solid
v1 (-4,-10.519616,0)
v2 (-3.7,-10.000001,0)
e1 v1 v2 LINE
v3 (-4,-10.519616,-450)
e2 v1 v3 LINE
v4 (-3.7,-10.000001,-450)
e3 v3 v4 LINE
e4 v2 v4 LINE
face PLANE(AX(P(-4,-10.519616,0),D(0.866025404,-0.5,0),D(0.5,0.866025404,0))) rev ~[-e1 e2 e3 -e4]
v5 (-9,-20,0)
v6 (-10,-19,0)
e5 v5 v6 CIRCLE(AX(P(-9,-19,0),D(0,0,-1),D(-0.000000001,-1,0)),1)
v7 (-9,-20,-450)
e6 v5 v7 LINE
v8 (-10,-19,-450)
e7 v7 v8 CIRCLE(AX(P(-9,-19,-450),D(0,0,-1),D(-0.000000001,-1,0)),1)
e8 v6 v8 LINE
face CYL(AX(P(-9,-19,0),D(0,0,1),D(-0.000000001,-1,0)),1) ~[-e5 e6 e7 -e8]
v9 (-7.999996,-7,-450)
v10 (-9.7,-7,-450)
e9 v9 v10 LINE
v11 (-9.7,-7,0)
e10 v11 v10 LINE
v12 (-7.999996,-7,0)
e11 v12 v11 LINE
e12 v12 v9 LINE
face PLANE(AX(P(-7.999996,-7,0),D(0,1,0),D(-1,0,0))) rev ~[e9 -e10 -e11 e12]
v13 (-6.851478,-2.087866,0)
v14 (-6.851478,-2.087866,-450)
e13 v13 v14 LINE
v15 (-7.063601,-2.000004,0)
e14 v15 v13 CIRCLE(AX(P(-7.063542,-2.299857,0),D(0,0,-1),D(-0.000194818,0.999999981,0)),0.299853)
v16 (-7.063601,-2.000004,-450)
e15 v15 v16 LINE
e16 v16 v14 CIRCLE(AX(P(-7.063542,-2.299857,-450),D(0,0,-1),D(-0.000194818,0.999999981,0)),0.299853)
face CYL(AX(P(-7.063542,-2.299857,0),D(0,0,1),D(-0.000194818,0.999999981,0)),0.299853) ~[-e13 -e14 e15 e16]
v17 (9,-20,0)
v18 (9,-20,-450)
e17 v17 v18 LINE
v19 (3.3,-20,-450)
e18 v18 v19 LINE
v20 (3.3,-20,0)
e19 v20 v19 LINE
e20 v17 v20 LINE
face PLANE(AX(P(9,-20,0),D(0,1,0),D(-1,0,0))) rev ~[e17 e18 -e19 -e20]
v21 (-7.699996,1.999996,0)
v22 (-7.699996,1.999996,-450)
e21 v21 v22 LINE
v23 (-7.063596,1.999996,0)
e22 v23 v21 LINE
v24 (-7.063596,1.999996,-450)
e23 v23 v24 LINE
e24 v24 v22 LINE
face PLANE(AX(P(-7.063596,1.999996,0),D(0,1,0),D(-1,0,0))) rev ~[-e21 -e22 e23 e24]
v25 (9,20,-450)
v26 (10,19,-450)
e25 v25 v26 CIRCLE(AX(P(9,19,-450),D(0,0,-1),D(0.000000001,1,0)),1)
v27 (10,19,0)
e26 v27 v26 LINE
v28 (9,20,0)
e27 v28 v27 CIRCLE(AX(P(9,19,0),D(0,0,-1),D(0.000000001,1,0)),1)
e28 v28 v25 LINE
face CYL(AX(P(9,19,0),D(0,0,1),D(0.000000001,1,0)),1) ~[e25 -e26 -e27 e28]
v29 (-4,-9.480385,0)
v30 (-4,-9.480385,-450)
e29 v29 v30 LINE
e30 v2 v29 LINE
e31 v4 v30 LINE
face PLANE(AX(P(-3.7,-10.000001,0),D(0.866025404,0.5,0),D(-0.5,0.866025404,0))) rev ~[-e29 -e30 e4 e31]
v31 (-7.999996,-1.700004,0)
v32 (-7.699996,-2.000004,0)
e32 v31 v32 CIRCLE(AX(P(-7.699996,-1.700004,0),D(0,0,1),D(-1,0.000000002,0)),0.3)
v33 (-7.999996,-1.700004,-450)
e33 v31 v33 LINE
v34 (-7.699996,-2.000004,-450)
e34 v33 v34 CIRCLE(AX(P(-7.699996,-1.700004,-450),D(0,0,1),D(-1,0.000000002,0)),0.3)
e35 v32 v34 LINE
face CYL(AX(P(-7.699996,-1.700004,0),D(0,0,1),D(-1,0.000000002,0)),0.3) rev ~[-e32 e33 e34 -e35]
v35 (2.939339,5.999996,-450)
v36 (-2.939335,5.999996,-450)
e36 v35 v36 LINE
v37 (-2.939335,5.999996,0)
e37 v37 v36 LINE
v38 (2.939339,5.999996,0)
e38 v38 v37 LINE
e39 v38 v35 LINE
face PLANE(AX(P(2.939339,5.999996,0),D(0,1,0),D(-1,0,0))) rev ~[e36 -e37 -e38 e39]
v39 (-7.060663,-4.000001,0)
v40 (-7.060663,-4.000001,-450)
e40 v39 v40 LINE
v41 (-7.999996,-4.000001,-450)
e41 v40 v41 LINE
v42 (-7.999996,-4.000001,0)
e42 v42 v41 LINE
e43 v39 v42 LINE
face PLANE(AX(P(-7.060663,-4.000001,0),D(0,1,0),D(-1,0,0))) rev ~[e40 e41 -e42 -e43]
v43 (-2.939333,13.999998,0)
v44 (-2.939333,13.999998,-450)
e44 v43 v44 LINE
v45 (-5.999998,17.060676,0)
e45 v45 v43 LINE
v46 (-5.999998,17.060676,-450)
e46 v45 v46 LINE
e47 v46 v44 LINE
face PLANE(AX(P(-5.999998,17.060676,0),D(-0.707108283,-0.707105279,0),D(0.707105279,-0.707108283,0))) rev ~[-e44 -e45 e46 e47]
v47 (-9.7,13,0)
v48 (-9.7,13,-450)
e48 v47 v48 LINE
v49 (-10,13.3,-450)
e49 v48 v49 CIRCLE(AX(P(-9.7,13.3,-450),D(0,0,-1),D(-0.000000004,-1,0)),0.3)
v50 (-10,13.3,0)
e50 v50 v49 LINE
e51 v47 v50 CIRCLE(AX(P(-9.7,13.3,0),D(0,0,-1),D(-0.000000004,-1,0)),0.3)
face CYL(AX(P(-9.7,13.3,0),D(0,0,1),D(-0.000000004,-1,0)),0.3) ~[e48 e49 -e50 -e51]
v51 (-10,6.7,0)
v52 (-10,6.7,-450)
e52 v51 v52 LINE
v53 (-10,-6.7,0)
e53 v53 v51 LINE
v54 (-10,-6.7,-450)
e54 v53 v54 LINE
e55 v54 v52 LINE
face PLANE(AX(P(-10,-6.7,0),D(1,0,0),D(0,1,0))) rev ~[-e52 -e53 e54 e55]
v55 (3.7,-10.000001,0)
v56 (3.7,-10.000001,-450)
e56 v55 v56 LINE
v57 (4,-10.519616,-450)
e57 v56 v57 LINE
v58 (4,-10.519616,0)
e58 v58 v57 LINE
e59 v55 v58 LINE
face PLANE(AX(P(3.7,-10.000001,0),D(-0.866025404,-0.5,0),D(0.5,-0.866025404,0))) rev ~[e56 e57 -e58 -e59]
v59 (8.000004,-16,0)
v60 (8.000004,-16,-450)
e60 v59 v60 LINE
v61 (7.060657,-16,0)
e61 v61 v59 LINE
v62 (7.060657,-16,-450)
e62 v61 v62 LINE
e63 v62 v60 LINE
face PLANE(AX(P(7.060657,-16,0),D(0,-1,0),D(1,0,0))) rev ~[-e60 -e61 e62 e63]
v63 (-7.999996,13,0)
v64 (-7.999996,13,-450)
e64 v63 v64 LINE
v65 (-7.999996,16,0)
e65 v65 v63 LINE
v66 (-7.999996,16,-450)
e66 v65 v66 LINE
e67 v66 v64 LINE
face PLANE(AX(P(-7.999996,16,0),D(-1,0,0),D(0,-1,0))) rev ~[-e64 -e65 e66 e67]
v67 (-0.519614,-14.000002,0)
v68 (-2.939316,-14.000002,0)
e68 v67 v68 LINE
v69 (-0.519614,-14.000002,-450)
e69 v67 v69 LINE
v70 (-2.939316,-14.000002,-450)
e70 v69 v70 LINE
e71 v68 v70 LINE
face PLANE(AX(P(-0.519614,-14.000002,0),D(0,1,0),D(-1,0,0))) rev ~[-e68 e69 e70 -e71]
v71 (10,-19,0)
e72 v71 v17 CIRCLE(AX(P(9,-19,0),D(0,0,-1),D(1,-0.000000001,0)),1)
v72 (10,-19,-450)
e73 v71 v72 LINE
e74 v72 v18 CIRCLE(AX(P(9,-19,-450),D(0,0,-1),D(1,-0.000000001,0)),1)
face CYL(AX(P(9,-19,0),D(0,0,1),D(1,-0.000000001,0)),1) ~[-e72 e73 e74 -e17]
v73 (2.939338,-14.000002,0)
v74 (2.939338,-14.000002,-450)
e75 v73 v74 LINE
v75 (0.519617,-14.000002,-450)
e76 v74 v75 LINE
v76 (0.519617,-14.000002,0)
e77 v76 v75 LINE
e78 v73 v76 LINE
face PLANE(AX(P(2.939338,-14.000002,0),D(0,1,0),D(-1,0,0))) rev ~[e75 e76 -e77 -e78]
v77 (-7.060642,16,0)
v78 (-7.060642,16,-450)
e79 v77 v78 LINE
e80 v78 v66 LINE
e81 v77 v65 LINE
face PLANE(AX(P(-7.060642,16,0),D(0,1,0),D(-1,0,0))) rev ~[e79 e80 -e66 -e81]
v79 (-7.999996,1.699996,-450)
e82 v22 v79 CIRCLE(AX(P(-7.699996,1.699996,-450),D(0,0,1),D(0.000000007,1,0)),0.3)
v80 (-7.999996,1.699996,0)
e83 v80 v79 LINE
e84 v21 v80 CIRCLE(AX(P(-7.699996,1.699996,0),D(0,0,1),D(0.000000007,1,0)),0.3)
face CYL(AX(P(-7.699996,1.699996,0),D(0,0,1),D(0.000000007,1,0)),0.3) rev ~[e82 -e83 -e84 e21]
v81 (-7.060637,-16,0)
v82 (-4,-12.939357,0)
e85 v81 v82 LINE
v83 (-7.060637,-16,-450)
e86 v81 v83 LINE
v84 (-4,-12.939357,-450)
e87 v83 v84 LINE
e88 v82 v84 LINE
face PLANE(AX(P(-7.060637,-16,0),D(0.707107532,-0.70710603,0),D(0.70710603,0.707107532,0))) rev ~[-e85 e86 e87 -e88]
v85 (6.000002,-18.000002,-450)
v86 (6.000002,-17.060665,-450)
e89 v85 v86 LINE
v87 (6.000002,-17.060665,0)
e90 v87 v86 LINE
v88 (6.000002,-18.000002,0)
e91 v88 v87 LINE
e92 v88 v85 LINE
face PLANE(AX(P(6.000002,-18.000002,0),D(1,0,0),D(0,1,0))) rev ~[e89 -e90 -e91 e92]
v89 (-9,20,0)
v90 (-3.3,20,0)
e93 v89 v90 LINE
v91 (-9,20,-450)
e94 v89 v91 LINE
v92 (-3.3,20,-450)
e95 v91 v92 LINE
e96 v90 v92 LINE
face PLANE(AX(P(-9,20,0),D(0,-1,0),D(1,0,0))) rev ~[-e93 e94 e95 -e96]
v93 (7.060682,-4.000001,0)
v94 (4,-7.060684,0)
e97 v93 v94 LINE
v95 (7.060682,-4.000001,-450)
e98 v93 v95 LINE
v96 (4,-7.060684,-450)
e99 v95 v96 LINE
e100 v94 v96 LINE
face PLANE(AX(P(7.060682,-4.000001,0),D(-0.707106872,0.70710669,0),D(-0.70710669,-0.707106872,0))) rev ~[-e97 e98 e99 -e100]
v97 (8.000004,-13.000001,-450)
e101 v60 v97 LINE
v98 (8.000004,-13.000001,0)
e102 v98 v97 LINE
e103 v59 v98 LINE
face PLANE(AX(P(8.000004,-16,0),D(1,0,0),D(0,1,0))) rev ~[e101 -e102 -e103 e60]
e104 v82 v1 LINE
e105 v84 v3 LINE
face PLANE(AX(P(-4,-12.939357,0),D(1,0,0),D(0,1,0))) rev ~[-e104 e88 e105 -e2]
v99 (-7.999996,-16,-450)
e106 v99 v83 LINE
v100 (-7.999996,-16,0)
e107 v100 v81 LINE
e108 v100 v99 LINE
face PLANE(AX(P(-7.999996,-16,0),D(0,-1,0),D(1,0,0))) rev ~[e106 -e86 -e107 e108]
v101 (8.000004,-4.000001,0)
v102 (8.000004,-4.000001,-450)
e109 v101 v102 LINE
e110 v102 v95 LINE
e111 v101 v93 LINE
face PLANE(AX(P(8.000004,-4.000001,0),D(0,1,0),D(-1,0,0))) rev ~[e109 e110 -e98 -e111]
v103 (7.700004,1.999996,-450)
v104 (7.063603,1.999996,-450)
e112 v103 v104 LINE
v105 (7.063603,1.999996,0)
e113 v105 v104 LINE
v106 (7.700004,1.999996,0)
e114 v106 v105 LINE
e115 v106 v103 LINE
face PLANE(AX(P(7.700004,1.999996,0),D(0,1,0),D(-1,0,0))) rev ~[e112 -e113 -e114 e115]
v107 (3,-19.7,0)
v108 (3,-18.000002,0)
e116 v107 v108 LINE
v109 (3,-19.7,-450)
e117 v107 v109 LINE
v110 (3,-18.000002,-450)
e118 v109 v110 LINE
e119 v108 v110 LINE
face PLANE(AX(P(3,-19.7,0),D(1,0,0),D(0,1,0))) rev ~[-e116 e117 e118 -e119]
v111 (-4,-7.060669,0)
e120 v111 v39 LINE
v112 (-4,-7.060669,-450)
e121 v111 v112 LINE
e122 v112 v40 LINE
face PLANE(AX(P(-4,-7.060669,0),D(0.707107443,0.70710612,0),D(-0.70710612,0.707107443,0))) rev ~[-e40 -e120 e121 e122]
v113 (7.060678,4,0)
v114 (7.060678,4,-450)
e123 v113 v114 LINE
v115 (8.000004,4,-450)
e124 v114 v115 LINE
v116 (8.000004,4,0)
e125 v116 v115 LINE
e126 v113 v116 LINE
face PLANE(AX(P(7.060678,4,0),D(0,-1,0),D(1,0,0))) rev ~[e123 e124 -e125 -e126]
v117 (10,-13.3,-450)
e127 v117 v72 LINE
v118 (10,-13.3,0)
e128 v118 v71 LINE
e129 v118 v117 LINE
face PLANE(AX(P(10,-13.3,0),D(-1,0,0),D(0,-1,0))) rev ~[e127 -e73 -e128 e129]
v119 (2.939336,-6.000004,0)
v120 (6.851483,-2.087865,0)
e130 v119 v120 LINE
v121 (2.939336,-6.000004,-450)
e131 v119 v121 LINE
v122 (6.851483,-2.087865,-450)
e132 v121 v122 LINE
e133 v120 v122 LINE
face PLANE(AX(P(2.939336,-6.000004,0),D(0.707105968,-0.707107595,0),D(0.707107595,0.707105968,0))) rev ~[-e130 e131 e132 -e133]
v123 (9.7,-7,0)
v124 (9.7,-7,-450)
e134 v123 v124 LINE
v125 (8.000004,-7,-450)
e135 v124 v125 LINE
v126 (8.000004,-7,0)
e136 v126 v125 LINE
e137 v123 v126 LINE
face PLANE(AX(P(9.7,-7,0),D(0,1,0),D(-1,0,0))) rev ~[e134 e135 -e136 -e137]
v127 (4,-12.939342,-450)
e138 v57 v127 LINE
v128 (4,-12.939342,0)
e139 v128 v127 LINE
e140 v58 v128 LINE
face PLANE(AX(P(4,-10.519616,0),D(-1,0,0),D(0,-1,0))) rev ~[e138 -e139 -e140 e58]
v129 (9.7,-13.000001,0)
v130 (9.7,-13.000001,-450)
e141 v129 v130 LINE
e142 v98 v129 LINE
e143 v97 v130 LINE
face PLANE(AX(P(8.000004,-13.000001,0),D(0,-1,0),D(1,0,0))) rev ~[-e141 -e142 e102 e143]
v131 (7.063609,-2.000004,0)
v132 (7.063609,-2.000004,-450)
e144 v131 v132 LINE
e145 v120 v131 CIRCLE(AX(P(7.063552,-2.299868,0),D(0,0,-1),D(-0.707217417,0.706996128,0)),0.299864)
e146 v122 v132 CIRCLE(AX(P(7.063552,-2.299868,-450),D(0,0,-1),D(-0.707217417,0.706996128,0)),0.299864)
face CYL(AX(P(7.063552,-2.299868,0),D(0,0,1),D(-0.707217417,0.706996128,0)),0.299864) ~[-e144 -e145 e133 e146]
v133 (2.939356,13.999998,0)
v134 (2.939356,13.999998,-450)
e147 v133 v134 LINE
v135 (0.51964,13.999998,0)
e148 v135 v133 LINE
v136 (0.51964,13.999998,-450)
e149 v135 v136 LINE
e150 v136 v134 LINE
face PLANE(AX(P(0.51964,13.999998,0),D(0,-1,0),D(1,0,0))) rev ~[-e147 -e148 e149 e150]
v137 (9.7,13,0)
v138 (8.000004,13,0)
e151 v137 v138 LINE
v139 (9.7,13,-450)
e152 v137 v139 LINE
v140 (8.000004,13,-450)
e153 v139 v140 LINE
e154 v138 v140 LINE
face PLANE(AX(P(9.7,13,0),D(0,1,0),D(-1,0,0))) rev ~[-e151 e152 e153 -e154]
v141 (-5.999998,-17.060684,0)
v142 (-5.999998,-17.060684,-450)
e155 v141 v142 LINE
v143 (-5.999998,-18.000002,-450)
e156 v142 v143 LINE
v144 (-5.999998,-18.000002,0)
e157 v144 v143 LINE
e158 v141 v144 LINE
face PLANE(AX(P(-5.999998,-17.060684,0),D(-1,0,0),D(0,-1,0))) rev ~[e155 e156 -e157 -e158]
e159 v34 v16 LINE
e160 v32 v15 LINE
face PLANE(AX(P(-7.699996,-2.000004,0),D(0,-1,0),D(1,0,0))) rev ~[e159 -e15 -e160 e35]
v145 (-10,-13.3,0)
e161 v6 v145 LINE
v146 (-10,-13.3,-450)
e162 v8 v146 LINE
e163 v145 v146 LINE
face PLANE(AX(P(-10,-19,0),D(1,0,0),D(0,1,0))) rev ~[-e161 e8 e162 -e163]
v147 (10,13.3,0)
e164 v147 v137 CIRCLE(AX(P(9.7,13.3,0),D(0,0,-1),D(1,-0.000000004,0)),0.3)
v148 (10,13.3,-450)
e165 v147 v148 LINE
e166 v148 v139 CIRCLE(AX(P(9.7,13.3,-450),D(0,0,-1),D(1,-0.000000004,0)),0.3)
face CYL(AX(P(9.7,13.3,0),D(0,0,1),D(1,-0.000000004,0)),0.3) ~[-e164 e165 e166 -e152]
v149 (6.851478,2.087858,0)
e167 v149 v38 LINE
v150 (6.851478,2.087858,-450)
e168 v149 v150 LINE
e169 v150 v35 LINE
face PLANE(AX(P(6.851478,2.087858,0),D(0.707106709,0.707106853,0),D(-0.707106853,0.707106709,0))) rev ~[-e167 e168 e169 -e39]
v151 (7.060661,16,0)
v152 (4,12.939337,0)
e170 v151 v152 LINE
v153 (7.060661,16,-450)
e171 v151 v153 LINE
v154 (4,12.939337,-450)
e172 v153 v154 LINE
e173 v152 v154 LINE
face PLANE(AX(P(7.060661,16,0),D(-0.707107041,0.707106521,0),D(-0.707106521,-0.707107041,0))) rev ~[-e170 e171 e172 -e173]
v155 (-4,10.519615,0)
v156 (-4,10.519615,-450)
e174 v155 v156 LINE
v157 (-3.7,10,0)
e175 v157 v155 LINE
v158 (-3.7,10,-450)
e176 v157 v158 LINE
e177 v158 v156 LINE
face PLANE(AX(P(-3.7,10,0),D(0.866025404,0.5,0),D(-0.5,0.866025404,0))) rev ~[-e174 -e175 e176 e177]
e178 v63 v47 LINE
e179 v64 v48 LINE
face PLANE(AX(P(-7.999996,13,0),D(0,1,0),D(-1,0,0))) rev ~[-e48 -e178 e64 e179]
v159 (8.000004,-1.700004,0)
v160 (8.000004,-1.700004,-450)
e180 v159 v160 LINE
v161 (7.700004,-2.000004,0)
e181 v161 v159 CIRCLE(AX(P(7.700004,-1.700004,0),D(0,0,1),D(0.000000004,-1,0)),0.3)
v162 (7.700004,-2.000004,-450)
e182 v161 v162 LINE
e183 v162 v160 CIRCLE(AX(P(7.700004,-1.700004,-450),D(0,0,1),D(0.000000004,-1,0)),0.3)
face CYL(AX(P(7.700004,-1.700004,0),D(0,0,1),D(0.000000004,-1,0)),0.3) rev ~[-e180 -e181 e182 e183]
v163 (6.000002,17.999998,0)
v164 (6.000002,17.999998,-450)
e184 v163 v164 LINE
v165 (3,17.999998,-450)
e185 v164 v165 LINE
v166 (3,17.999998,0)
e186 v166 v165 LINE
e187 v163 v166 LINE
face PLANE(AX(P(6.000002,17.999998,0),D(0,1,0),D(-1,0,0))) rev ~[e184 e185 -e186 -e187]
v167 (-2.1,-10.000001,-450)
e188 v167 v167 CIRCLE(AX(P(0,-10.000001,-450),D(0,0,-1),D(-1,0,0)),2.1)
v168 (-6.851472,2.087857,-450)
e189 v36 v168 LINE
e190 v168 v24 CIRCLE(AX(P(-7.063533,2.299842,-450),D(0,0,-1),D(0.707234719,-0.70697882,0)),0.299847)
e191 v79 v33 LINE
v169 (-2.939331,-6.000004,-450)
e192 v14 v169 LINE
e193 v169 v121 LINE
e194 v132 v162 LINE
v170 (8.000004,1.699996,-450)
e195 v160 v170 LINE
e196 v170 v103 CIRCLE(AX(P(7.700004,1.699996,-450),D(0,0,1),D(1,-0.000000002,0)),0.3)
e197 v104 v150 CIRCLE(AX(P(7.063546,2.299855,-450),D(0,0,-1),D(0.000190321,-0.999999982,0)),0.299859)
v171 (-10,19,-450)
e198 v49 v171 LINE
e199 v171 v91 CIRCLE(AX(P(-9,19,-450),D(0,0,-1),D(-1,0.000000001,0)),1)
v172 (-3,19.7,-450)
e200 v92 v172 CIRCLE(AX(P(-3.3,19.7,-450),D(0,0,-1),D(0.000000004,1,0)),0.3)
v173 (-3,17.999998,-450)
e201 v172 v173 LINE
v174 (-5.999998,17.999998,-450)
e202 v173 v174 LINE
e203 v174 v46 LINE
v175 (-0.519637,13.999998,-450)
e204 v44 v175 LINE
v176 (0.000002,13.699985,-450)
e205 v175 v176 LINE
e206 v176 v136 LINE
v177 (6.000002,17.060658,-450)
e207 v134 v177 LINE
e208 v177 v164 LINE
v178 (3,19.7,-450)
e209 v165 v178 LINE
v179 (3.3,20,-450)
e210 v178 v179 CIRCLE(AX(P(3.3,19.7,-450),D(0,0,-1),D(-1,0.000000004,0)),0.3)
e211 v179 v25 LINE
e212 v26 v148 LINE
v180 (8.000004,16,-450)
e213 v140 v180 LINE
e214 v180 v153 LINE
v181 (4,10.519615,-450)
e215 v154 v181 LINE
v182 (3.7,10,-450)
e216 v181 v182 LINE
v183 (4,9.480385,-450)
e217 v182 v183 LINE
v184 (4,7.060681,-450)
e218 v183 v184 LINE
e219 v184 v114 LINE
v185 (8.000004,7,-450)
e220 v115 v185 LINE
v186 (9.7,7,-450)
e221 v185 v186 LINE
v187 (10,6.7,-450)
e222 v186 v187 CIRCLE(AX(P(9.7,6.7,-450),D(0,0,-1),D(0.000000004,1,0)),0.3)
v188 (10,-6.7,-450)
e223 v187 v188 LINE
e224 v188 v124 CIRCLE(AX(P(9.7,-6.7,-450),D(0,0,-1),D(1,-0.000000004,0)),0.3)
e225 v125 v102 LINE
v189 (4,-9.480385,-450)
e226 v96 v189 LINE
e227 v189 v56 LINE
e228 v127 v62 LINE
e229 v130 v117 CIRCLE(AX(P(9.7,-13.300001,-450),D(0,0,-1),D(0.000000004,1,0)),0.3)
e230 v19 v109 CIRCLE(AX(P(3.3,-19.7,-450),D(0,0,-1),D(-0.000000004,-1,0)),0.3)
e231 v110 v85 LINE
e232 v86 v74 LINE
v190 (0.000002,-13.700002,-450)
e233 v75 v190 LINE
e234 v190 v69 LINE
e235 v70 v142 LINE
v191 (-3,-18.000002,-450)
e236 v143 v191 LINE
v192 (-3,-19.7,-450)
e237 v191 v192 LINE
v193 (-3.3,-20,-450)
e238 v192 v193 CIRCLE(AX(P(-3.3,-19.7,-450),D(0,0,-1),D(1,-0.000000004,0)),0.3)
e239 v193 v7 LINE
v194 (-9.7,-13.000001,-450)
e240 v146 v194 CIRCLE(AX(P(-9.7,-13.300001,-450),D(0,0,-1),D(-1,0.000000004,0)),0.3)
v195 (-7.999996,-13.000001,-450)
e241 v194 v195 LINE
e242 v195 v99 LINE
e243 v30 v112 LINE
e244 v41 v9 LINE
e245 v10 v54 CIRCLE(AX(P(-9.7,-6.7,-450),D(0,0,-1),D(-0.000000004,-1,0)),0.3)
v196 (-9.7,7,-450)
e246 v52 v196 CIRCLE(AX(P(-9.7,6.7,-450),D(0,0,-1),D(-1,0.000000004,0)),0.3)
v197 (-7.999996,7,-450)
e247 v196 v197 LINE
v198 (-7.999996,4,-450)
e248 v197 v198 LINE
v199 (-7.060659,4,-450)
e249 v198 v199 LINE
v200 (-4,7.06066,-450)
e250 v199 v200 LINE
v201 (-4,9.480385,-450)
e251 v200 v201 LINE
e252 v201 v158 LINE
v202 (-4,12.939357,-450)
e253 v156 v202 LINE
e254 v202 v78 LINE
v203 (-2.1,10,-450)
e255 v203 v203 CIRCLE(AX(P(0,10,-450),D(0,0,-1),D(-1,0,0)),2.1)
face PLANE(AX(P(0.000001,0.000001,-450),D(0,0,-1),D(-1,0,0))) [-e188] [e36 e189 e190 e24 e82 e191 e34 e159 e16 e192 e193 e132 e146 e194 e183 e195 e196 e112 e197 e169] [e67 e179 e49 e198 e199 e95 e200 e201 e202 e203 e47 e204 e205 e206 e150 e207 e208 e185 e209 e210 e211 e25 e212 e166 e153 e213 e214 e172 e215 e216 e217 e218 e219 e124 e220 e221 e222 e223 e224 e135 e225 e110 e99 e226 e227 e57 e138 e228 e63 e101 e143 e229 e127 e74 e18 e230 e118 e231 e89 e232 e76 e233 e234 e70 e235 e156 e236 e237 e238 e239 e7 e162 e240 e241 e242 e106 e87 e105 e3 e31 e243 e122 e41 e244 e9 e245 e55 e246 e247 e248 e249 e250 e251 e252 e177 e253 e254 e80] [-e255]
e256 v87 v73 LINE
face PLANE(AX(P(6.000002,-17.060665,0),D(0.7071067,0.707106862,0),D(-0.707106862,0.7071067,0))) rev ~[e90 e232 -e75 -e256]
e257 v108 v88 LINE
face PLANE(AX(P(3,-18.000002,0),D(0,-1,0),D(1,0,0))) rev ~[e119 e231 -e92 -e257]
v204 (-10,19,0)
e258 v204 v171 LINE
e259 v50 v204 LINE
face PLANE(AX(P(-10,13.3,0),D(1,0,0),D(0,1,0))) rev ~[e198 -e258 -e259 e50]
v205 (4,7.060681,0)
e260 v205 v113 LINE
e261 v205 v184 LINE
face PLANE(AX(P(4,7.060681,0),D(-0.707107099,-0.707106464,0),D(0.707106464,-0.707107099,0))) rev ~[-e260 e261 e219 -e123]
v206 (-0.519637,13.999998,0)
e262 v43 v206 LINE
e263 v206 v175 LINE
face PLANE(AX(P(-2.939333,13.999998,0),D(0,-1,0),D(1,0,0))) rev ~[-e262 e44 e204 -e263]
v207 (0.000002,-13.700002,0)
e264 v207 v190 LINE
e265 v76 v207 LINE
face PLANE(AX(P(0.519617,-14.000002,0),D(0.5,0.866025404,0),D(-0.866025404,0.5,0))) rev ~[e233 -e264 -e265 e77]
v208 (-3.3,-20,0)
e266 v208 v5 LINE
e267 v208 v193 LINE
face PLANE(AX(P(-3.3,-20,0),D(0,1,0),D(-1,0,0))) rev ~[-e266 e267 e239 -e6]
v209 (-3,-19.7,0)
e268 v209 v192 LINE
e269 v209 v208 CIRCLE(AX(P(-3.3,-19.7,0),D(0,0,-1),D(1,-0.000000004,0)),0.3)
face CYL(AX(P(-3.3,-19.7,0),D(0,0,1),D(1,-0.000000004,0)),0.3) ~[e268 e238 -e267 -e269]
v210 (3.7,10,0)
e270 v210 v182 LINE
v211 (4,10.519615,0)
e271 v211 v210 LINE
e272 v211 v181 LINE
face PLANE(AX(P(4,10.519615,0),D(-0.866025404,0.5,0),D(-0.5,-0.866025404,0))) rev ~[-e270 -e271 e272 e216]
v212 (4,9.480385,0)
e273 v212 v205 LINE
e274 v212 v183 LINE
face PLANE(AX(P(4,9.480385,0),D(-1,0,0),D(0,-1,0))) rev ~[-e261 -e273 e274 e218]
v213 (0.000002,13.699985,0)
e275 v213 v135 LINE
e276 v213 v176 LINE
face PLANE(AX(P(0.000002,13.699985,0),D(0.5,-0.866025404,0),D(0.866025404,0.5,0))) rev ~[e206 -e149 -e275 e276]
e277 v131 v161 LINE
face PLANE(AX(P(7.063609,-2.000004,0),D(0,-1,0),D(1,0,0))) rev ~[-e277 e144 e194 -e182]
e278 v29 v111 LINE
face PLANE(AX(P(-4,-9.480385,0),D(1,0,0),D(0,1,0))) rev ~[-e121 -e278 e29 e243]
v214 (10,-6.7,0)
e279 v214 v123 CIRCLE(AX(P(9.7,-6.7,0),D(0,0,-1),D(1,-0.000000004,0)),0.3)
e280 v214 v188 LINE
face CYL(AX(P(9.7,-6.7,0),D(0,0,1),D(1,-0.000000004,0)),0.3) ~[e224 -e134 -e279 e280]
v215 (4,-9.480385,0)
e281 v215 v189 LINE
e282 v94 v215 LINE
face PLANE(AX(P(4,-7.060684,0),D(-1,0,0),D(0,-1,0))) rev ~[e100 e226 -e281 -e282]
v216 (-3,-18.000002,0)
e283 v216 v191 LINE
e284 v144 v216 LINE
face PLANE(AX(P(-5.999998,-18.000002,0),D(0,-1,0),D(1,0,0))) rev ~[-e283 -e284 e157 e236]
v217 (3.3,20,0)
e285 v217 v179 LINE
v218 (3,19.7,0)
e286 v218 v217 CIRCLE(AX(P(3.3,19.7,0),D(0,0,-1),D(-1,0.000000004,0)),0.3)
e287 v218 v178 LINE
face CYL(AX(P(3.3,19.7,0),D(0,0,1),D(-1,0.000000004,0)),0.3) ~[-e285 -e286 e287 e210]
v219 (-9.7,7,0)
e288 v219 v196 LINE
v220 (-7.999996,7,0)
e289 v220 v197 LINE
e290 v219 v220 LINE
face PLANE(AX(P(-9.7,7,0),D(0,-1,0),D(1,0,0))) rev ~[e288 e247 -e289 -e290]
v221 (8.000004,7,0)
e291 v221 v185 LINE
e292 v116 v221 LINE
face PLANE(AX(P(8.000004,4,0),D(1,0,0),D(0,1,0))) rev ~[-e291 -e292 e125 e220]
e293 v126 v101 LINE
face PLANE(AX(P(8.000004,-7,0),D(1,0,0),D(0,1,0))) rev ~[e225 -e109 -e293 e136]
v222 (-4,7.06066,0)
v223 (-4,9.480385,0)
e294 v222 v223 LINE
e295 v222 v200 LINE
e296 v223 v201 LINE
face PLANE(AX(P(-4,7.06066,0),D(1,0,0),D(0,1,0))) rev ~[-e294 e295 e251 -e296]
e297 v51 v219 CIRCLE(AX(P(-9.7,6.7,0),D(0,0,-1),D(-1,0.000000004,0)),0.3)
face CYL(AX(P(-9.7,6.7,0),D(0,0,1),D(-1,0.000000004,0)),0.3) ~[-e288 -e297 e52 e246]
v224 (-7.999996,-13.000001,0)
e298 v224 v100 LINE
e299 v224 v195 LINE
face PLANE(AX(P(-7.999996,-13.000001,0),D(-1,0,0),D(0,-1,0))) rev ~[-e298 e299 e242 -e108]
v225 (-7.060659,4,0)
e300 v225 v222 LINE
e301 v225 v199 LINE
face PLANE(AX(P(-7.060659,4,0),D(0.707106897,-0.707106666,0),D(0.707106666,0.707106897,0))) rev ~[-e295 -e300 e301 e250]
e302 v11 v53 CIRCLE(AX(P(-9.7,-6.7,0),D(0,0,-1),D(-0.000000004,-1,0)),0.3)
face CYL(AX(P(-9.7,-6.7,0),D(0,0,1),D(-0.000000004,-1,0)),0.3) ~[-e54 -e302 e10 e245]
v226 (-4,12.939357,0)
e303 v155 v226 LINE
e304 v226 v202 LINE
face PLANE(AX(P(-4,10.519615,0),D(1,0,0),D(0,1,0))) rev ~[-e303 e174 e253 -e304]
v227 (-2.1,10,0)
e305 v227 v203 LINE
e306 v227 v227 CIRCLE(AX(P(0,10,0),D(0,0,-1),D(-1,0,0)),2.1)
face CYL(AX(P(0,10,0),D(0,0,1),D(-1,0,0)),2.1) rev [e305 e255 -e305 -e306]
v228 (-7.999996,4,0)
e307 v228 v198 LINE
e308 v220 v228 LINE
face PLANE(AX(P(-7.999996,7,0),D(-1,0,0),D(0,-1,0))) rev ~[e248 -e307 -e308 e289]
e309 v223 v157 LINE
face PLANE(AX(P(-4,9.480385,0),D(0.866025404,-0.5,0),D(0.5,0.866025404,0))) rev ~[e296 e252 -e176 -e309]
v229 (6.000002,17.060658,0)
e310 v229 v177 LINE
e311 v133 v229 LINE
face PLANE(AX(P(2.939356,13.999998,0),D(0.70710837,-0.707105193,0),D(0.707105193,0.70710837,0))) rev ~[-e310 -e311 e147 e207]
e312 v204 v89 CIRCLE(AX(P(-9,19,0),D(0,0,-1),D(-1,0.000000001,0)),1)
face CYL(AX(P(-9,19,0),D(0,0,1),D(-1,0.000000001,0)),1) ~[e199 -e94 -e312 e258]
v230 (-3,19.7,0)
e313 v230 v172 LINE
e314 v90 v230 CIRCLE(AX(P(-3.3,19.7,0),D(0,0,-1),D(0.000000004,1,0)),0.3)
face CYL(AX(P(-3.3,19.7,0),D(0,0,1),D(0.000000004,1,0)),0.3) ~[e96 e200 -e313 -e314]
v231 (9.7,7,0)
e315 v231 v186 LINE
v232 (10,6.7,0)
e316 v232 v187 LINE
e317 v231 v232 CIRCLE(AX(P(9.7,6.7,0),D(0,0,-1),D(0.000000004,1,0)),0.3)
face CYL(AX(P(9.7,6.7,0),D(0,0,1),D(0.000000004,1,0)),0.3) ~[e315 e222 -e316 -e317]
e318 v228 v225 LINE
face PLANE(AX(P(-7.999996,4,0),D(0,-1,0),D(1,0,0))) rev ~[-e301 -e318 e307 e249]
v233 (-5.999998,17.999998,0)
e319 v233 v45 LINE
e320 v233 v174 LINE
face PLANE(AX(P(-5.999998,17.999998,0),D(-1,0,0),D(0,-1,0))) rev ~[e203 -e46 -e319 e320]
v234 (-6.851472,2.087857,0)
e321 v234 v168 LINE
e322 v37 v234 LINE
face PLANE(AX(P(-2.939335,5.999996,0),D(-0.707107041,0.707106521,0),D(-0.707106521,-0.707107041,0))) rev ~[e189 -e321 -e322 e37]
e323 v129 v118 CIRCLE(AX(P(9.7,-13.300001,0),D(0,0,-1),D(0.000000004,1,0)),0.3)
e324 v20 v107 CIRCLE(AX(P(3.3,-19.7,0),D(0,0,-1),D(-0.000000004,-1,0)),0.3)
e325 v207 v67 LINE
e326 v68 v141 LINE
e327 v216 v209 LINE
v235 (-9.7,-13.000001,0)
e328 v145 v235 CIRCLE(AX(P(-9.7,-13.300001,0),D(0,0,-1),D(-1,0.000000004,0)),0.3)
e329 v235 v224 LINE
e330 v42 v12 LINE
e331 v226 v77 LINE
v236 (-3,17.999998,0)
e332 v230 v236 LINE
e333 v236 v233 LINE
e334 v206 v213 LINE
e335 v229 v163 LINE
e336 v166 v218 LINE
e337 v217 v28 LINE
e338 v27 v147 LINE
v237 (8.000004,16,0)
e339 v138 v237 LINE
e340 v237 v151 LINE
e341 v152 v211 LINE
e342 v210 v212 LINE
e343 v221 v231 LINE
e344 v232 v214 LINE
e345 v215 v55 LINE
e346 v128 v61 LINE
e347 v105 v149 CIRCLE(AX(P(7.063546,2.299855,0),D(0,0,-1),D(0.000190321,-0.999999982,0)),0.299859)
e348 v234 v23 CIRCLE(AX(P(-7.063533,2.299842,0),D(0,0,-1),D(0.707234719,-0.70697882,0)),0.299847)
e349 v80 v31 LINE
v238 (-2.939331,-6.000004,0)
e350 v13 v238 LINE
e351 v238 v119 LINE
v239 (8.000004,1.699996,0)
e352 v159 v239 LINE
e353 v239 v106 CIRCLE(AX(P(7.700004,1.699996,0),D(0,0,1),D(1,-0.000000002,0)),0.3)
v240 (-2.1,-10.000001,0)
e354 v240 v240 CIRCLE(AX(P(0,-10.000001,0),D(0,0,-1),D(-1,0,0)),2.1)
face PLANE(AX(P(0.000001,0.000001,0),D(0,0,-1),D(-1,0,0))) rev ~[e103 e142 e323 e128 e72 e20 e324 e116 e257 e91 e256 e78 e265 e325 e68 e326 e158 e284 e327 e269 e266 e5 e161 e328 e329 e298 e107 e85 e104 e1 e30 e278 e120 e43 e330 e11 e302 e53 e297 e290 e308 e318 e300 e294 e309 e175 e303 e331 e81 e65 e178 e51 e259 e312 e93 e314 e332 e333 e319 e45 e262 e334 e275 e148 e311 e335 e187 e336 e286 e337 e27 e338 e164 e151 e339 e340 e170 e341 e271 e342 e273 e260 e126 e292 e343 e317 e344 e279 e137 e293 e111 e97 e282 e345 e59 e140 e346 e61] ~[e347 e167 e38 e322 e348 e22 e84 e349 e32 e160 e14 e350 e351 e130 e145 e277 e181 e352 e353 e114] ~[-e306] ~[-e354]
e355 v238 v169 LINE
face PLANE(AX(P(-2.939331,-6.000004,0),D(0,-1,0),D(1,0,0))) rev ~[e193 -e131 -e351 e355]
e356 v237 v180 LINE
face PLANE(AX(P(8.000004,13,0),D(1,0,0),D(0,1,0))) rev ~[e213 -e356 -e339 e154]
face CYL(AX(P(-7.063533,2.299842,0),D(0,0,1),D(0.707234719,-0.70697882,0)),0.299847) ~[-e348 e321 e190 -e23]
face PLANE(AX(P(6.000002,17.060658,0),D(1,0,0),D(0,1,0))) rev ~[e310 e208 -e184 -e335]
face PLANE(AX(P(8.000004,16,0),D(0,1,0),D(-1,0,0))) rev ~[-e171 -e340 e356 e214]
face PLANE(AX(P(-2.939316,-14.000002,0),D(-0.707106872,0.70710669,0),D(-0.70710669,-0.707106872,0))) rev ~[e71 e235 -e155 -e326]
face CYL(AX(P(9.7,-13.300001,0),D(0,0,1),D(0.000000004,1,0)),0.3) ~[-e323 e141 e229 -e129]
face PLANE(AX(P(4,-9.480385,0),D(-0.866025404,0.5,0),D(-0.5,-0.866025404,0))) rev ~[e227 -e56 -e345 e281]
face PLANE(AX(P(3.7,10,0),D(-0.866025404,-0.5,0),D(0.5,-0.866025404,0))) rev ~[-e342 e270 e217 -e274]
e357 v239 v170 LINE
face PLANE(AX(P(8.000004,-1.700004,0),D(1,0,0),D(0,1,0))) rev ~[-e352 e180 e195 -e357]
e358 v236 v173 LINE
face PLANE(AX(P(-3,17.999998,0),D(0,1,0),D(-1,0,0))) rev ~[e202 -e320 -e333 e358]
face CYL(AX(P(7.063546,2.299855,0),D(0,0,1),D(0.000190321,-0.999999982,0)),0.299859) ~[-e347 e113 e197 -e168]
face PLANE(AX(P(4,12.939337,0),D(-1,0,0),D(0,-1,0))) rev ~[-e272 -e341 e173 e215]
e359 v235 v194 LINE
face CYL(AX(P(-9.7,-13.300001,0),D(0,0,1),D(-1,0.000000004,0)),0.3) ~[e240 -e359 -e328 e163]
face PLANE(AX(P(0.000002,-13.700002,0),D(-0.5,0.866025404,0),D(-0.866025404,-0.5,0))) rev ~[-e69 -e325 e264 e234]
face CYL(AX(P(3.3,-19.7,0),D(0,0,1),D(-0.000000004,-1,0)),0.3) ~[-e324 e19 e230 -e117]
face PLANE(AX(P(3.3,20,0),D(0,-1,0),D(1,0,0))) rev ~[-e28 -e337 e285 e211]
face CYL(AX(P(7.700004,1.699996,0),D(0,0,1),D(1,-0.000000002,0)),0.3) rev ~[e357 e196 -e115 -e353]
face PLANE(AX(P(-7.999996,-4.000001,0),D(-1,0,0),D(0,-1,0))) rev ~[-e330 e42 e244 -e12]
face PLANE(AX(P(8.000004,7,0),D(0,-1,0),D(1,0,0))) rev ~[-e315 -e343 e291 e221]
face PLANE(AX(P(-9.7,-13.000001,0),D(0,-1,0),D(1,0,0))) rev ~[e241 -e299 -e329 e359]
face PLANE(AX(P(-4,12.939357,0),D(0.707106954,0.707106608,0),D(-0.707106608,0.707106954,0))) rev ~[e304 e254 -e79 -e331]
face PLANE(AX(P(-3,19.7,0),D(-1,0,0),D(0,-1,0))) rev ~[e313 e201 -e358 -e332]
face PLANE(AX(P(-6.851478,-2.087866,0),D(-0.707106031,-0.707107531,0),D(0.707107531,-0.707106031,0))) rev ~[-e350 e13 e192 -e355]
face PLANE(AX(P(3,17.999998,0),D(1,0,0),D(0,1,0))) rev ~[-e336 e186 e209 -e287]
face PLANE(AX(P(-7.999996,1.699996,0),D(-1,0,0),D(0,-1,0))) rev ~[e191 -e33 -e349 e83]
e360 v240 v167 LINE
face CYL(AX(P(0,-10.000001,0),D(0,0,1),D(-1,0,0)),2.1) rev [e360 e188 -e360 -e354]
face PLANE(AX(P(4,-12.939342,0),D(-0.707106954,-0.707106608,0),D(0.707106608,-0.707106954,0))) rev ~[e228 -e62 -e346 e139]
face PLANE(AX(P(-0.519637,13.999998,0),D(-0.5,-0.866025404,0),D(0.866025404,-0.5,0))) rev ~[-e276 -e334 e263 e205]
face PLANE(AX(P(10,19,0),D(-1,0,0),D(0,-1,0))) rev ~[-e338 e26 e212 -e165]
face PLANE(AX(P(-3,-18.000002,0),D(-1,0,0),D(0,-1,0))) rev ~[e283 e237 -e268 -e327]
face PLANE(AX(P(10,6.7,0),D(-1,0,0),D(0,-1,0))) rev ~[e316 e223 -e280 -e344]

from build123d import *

# Parameters (mm, degrees)
SKETCH1_R           = 2.0999999
BOSS_EXTRUDE1_DEPTH = 450


with BuildPart() as part:
    # Sketch1 → Boss-Extrude1 (new body)
    with BuildSketch(Plane(origin=(0, 0, 0), x_dir=(-1, 0, 0), z_dir=(0, 0, -1))):
        with BuildLine():
            Line((10, -19), (10, -13.3000005))
            ThreePointArc((10, -13.3000005), (9.912132034, -13.087868466), (9.7, -13.0000005))
            Line((9.7, -13.0000005), (7.999996324, -13.0000005))
            Line((7.999996324, -13.0000005), (7.999996324, -16.0000005))
            Line((7.999996324, -16.0000005), (7.0606365, -16.0000005))
            Line((7.0606365, -16.0000005), (4, -12.9393575))
            Line((4, -12.9393575), (4, -10.519615742))
            Line((4, -10.519615742), (3.7, -10.0000005))
            Line((3.7, -10.0000005), (4, -9.480385258))
            Line((4, -9.480385258), (4, -7.0606688))
            Line((4, -7.0606688), (7.06066257, -4.000000504))
            Line((7.06066257, -4.000000504), (7.999996324, -4.000000504))
            Line((7.999996324, -4.000000504), (7.999996324, -7.0000005))
            Line((7.999996324, -7.0000005), (9.7, -7.0000005))
            ThreePointArc((9.7, -7.0000005), (9.912132034, -6.912132534), (10, -6.7000005))
            Line((10, -6.7000005), (10, 6.7))
            ThreePointArc((10, 6.7), (9.912132034, 6.912132034), (9.7, 7))
            Line((9.7, 7), (7.999996324, 7))
            Line((7.999996324, 7), (7.999996324, 4))
            Line((7.999996324, 4), (7.060659, 4))
            Line((7.060659, 4), (4, 7.06066))
            Line((4, 7.06066), (4, 9.480384758))
            Line((4, 9.480384758), (3.7, 10))
            Line((3.7, 10), (4, 10.519615242))
            Line((4, 10.519615242), (4, 12.9393565))
            Line((4, 12.9393565), (7.060642, 16))
            Line((7.060642, 16), (7.999996324, 16))
            Line((7.999996324, 16), (7.999996324, 13))
            Line((7.999996324, 13), (9.7, 13))
            ThreePointArc((9.7, 13), (9.912132034, 13.087867966), (10, 13.3))
            Line((10, 13.3), (10, 19))
            ThreePointArc((10, 19), (9.707106781, 19.707106781), (9, 20))
            Line((9, 20), (3.3, 20))
            ThreePointArc((3.3, 20), (3.087867966, 19.912132034), (3, 19.7))
            Line((3, 19.7), (3, 17.999998284))
            Line((3, 17.999998284), (5.999998141, 17.999998284))
            Line((5.999998141, 17.999998284), (5.999998141, 17.060676141))
            Line((5.999998141, 17.060676141), (2.939333284, 13.999998284))
            Line((2.939333284, 13.999998284), (0.519636909, 13.999998284))
            Line((0.519636909, 13.999998284), (-1.716e-06, 13.699984784))
            Line((-1.716e-06, 13.699984784), (-0.519640341, 13.999998284))
            Line((-0.519640341, 13.999998284), (-2.939355716, 13.999998284))
            Line((-2.939355716, 13.999998284), (-6.000001716, 17.060658034))
            Line((-6.000001716, 17.060658034), (-6.000001716, 17.999998284))
            Line((-6.000001716, 17.999998284), (-3, 17.999998284))
            Line((-3, 17.999998284), (-3, 19.7))
            ThreePointArc((-3, 19.7), (-3.087867966, 19.912132034), (-3.3, 20))
            Line((-3.3, 20), (-9, 20))
            ThreePointArc((-9, 20), (-9.707106781, 19.707106781), (-10, 19))
            Line((-10, 19), (-10, 13.3))
            ThreePointArc((-10, 13.3), (-9.912132034, 13.087867966), (-9.7, 13))
            Line((-9.7, 13), (-8.000003676, 13))
            Line((-8.000003676, 13), (-8.000003676, 16))
            Line((-8.000003676, 16), (-7.060661, 16))
            Line((-7.060661, 16), (-4, 12.93933675))
            Line((-4, 12.93933675), (-4, 10.519615242))
            Line((-4, 10.519615242), (-3.7, 10))
            Line((-3.7, 10), (-4, 9.480384758))
            Line((-4, 9.480384758), (-4, 7.06068075))
            Line((-4, 7.06068075), (-7.060678, 4))
            Line((-7.060678, 4), (-8.000003676, 4))
            Line((-8.000003676, 4), (-8.000003676, 7))
            Line((-8.000003676, 7), (-9.7, 7))
            ThreePointArc((-9.7, 7), (-9.912132034, 6.912132034), (-10, 6.7))
            Line((-10, 6.7), (-10, -6.7000005))
            ThreePointArc((-10, -6.7000005), (-9.912132034, -6.912132534), (-9.7, -7.0000005))
            Line((-9.7, -7.0000005), (-8.000003676, -7.0000005))
            Line((-8.000003676, -7.0000005), (-8.000003676, -4.000000504))
            Line((-8.000003676, -4.000000504), (-7.06068236, -4.000000504))
            Line((-7.06068236, -4.000000504), (-4, -7.06068365))
            Line((-4, -7.06068365), (-4, -9.480385258))
            Line((-4, -9.480385258), (-3.7, -10.0000005))
            Line((-3.7, -10.0000005), (-4, -10.519615742))
            Line((-4, -10.519615742), (-4, -12.93934215))
            Line((-4, -12.93934215), (-7.06065685, -16.0000005))
            Line((-7.06065685, -16.0000005), (-8.000003676, -16.0000005))
            Line((-8.000003676, -16.0000005), (-8.000003676, -13.0000005))
            Line((-8.000003676, -13.0000005), (-9.7, -13.0000005))
            ThreePointArc((-9.7, -13.0000005), (-9.912132034, -13.087868466), (-10, -13.3000005))
            Line((-10, -13.3000005), (-10, -19))
            ThreePointArc((-10, -19), (-9.707106781, -19.707106781), (-9, -20))
            Line((-9, -20), (-3.3, -20))
            ThreePointArc((-3.3, -20), (-3.087867966, -19.912132034), (-3, -19.7))
            Line((-3, -19.7), (-3, -18.000001716))
            Line((-3, -18.000001716), (-6.000001716, -18.000001716))
            Line((-6.000001716, -18.000001716), (-6.000001716, -17.060664516))
            Line((-6.000001716, -17.060664516), (-2.939338216, -14.000001716))
            Line((-2.939338216, -14.000001716), (-0.519616958, -14.000001716))
            Line((-0.519616958, -14.000001716), (-1.716e-06, -13.700001716))
            Line((-1.716e-06, -13.700001716), (0.519613526, -14.000001716))
            Line((0.519613526, -14.000001716), (2.939316284, -14.000001716))
            Line((2.939316284, -14.000001716), (5.999998141, -17.060684359))
            Line((5.999998141, -17.060684359), (5.999998141, -18.000001716))
            Line((5.999998141, -18.000001716), (3, -18.000001716))
            Line((3, -18.000001716), (3, -19.7))
            ThreePointArc((3, -19.7), (3.087867966, -19.912132034), (3.3, -20))
            Line((3.3, -20), (9, -20))
            ThreePointArc((9, -20), (9.707106781, -19.707106781), (10, -19))
        make_face()
        with Locations((0, -10.0000005)):
            Circle(SKETCH1_R, mode=Mode.SUBTRACT)
        with Locations((0, 10)):
            Circle(SKETCH1_R, mode=Mode.SUBTRACT)
        with BuildLine():
            Line((7.999996324, 1.699995824), (7.999996324, -1.700003926))
            ThreePointArc((7.999996324, -1.700003926), (7.912128359, -1.91213596), (7.699996324, -2.000003926))
            Line((7.699996324, -2.000003926), (7.063600862, -2.000003926))
            ThreePointArc((7.063600862, -2.000003926), (6.94879664, -2.022827662), (6.85147763, -2.08786567))
            Line((6.85147763, -2.08786567), (2.939331324, -6.000003676))
            Line((2.939331324, -6.000003676), (-2.939335626, -6.000003676))
            Line((-2.939335626, -6.000003676), (-6.85148297, -2.087865332))
            ThreePointArc((-6.85148297, -2.087865332), (-6.948803597, -2.022827887), (-7.063608826, -2.000003926))
            Line((-7.063608826, -2.000003926), (-7.700003676, -2.000003926))
            ThreePointArc((-7.700003676, -2.000003926), (-7.91213571, -1.91213596), (-8.000003676, -1.700003926))
            Line((-8.000003676, -1.700003926), (-8.000003676, 1.699995824))
            ThreePointArc((-8.000003676, 1.699995824), (-7.91213571, 1.912127859), (-7.700003676, 1.999995824))
            Line((-7.700003676, 1.999995824), (-7.063603126, 1.999995824))
            ThreePointArc((-7.063603126, 1.999995824), (-6.948797876, 2.022820045), (-6.851477822, 2.087858478))
            Line((-6.851477822, 2.087858478), (-2.939339176, 5.999996324))
            Line((-2.939339176, 5.999996324), (2.939335324, 5.999996324))
            Line((2.939335324, 5.999996324), (6.85147158, 2.087857193))
            ThreePointArc((6.85147158, 2.087857193), (6.948790922, 2.02281871), (7.063595862, 1.999995824))
            Line((7.063595862, 1.999995824), (7.699996324, 1.999995824))
            ThreePointArc((7.699996324, 1.999995824), (7.912128359, 1.912127859), (7.999996324, 1.699995824))
        make_face(mode=Mode.SUBTRACT)
    extrude(amount=BOSS_EXTRUDE1_DEPTH)


solid = part.part
